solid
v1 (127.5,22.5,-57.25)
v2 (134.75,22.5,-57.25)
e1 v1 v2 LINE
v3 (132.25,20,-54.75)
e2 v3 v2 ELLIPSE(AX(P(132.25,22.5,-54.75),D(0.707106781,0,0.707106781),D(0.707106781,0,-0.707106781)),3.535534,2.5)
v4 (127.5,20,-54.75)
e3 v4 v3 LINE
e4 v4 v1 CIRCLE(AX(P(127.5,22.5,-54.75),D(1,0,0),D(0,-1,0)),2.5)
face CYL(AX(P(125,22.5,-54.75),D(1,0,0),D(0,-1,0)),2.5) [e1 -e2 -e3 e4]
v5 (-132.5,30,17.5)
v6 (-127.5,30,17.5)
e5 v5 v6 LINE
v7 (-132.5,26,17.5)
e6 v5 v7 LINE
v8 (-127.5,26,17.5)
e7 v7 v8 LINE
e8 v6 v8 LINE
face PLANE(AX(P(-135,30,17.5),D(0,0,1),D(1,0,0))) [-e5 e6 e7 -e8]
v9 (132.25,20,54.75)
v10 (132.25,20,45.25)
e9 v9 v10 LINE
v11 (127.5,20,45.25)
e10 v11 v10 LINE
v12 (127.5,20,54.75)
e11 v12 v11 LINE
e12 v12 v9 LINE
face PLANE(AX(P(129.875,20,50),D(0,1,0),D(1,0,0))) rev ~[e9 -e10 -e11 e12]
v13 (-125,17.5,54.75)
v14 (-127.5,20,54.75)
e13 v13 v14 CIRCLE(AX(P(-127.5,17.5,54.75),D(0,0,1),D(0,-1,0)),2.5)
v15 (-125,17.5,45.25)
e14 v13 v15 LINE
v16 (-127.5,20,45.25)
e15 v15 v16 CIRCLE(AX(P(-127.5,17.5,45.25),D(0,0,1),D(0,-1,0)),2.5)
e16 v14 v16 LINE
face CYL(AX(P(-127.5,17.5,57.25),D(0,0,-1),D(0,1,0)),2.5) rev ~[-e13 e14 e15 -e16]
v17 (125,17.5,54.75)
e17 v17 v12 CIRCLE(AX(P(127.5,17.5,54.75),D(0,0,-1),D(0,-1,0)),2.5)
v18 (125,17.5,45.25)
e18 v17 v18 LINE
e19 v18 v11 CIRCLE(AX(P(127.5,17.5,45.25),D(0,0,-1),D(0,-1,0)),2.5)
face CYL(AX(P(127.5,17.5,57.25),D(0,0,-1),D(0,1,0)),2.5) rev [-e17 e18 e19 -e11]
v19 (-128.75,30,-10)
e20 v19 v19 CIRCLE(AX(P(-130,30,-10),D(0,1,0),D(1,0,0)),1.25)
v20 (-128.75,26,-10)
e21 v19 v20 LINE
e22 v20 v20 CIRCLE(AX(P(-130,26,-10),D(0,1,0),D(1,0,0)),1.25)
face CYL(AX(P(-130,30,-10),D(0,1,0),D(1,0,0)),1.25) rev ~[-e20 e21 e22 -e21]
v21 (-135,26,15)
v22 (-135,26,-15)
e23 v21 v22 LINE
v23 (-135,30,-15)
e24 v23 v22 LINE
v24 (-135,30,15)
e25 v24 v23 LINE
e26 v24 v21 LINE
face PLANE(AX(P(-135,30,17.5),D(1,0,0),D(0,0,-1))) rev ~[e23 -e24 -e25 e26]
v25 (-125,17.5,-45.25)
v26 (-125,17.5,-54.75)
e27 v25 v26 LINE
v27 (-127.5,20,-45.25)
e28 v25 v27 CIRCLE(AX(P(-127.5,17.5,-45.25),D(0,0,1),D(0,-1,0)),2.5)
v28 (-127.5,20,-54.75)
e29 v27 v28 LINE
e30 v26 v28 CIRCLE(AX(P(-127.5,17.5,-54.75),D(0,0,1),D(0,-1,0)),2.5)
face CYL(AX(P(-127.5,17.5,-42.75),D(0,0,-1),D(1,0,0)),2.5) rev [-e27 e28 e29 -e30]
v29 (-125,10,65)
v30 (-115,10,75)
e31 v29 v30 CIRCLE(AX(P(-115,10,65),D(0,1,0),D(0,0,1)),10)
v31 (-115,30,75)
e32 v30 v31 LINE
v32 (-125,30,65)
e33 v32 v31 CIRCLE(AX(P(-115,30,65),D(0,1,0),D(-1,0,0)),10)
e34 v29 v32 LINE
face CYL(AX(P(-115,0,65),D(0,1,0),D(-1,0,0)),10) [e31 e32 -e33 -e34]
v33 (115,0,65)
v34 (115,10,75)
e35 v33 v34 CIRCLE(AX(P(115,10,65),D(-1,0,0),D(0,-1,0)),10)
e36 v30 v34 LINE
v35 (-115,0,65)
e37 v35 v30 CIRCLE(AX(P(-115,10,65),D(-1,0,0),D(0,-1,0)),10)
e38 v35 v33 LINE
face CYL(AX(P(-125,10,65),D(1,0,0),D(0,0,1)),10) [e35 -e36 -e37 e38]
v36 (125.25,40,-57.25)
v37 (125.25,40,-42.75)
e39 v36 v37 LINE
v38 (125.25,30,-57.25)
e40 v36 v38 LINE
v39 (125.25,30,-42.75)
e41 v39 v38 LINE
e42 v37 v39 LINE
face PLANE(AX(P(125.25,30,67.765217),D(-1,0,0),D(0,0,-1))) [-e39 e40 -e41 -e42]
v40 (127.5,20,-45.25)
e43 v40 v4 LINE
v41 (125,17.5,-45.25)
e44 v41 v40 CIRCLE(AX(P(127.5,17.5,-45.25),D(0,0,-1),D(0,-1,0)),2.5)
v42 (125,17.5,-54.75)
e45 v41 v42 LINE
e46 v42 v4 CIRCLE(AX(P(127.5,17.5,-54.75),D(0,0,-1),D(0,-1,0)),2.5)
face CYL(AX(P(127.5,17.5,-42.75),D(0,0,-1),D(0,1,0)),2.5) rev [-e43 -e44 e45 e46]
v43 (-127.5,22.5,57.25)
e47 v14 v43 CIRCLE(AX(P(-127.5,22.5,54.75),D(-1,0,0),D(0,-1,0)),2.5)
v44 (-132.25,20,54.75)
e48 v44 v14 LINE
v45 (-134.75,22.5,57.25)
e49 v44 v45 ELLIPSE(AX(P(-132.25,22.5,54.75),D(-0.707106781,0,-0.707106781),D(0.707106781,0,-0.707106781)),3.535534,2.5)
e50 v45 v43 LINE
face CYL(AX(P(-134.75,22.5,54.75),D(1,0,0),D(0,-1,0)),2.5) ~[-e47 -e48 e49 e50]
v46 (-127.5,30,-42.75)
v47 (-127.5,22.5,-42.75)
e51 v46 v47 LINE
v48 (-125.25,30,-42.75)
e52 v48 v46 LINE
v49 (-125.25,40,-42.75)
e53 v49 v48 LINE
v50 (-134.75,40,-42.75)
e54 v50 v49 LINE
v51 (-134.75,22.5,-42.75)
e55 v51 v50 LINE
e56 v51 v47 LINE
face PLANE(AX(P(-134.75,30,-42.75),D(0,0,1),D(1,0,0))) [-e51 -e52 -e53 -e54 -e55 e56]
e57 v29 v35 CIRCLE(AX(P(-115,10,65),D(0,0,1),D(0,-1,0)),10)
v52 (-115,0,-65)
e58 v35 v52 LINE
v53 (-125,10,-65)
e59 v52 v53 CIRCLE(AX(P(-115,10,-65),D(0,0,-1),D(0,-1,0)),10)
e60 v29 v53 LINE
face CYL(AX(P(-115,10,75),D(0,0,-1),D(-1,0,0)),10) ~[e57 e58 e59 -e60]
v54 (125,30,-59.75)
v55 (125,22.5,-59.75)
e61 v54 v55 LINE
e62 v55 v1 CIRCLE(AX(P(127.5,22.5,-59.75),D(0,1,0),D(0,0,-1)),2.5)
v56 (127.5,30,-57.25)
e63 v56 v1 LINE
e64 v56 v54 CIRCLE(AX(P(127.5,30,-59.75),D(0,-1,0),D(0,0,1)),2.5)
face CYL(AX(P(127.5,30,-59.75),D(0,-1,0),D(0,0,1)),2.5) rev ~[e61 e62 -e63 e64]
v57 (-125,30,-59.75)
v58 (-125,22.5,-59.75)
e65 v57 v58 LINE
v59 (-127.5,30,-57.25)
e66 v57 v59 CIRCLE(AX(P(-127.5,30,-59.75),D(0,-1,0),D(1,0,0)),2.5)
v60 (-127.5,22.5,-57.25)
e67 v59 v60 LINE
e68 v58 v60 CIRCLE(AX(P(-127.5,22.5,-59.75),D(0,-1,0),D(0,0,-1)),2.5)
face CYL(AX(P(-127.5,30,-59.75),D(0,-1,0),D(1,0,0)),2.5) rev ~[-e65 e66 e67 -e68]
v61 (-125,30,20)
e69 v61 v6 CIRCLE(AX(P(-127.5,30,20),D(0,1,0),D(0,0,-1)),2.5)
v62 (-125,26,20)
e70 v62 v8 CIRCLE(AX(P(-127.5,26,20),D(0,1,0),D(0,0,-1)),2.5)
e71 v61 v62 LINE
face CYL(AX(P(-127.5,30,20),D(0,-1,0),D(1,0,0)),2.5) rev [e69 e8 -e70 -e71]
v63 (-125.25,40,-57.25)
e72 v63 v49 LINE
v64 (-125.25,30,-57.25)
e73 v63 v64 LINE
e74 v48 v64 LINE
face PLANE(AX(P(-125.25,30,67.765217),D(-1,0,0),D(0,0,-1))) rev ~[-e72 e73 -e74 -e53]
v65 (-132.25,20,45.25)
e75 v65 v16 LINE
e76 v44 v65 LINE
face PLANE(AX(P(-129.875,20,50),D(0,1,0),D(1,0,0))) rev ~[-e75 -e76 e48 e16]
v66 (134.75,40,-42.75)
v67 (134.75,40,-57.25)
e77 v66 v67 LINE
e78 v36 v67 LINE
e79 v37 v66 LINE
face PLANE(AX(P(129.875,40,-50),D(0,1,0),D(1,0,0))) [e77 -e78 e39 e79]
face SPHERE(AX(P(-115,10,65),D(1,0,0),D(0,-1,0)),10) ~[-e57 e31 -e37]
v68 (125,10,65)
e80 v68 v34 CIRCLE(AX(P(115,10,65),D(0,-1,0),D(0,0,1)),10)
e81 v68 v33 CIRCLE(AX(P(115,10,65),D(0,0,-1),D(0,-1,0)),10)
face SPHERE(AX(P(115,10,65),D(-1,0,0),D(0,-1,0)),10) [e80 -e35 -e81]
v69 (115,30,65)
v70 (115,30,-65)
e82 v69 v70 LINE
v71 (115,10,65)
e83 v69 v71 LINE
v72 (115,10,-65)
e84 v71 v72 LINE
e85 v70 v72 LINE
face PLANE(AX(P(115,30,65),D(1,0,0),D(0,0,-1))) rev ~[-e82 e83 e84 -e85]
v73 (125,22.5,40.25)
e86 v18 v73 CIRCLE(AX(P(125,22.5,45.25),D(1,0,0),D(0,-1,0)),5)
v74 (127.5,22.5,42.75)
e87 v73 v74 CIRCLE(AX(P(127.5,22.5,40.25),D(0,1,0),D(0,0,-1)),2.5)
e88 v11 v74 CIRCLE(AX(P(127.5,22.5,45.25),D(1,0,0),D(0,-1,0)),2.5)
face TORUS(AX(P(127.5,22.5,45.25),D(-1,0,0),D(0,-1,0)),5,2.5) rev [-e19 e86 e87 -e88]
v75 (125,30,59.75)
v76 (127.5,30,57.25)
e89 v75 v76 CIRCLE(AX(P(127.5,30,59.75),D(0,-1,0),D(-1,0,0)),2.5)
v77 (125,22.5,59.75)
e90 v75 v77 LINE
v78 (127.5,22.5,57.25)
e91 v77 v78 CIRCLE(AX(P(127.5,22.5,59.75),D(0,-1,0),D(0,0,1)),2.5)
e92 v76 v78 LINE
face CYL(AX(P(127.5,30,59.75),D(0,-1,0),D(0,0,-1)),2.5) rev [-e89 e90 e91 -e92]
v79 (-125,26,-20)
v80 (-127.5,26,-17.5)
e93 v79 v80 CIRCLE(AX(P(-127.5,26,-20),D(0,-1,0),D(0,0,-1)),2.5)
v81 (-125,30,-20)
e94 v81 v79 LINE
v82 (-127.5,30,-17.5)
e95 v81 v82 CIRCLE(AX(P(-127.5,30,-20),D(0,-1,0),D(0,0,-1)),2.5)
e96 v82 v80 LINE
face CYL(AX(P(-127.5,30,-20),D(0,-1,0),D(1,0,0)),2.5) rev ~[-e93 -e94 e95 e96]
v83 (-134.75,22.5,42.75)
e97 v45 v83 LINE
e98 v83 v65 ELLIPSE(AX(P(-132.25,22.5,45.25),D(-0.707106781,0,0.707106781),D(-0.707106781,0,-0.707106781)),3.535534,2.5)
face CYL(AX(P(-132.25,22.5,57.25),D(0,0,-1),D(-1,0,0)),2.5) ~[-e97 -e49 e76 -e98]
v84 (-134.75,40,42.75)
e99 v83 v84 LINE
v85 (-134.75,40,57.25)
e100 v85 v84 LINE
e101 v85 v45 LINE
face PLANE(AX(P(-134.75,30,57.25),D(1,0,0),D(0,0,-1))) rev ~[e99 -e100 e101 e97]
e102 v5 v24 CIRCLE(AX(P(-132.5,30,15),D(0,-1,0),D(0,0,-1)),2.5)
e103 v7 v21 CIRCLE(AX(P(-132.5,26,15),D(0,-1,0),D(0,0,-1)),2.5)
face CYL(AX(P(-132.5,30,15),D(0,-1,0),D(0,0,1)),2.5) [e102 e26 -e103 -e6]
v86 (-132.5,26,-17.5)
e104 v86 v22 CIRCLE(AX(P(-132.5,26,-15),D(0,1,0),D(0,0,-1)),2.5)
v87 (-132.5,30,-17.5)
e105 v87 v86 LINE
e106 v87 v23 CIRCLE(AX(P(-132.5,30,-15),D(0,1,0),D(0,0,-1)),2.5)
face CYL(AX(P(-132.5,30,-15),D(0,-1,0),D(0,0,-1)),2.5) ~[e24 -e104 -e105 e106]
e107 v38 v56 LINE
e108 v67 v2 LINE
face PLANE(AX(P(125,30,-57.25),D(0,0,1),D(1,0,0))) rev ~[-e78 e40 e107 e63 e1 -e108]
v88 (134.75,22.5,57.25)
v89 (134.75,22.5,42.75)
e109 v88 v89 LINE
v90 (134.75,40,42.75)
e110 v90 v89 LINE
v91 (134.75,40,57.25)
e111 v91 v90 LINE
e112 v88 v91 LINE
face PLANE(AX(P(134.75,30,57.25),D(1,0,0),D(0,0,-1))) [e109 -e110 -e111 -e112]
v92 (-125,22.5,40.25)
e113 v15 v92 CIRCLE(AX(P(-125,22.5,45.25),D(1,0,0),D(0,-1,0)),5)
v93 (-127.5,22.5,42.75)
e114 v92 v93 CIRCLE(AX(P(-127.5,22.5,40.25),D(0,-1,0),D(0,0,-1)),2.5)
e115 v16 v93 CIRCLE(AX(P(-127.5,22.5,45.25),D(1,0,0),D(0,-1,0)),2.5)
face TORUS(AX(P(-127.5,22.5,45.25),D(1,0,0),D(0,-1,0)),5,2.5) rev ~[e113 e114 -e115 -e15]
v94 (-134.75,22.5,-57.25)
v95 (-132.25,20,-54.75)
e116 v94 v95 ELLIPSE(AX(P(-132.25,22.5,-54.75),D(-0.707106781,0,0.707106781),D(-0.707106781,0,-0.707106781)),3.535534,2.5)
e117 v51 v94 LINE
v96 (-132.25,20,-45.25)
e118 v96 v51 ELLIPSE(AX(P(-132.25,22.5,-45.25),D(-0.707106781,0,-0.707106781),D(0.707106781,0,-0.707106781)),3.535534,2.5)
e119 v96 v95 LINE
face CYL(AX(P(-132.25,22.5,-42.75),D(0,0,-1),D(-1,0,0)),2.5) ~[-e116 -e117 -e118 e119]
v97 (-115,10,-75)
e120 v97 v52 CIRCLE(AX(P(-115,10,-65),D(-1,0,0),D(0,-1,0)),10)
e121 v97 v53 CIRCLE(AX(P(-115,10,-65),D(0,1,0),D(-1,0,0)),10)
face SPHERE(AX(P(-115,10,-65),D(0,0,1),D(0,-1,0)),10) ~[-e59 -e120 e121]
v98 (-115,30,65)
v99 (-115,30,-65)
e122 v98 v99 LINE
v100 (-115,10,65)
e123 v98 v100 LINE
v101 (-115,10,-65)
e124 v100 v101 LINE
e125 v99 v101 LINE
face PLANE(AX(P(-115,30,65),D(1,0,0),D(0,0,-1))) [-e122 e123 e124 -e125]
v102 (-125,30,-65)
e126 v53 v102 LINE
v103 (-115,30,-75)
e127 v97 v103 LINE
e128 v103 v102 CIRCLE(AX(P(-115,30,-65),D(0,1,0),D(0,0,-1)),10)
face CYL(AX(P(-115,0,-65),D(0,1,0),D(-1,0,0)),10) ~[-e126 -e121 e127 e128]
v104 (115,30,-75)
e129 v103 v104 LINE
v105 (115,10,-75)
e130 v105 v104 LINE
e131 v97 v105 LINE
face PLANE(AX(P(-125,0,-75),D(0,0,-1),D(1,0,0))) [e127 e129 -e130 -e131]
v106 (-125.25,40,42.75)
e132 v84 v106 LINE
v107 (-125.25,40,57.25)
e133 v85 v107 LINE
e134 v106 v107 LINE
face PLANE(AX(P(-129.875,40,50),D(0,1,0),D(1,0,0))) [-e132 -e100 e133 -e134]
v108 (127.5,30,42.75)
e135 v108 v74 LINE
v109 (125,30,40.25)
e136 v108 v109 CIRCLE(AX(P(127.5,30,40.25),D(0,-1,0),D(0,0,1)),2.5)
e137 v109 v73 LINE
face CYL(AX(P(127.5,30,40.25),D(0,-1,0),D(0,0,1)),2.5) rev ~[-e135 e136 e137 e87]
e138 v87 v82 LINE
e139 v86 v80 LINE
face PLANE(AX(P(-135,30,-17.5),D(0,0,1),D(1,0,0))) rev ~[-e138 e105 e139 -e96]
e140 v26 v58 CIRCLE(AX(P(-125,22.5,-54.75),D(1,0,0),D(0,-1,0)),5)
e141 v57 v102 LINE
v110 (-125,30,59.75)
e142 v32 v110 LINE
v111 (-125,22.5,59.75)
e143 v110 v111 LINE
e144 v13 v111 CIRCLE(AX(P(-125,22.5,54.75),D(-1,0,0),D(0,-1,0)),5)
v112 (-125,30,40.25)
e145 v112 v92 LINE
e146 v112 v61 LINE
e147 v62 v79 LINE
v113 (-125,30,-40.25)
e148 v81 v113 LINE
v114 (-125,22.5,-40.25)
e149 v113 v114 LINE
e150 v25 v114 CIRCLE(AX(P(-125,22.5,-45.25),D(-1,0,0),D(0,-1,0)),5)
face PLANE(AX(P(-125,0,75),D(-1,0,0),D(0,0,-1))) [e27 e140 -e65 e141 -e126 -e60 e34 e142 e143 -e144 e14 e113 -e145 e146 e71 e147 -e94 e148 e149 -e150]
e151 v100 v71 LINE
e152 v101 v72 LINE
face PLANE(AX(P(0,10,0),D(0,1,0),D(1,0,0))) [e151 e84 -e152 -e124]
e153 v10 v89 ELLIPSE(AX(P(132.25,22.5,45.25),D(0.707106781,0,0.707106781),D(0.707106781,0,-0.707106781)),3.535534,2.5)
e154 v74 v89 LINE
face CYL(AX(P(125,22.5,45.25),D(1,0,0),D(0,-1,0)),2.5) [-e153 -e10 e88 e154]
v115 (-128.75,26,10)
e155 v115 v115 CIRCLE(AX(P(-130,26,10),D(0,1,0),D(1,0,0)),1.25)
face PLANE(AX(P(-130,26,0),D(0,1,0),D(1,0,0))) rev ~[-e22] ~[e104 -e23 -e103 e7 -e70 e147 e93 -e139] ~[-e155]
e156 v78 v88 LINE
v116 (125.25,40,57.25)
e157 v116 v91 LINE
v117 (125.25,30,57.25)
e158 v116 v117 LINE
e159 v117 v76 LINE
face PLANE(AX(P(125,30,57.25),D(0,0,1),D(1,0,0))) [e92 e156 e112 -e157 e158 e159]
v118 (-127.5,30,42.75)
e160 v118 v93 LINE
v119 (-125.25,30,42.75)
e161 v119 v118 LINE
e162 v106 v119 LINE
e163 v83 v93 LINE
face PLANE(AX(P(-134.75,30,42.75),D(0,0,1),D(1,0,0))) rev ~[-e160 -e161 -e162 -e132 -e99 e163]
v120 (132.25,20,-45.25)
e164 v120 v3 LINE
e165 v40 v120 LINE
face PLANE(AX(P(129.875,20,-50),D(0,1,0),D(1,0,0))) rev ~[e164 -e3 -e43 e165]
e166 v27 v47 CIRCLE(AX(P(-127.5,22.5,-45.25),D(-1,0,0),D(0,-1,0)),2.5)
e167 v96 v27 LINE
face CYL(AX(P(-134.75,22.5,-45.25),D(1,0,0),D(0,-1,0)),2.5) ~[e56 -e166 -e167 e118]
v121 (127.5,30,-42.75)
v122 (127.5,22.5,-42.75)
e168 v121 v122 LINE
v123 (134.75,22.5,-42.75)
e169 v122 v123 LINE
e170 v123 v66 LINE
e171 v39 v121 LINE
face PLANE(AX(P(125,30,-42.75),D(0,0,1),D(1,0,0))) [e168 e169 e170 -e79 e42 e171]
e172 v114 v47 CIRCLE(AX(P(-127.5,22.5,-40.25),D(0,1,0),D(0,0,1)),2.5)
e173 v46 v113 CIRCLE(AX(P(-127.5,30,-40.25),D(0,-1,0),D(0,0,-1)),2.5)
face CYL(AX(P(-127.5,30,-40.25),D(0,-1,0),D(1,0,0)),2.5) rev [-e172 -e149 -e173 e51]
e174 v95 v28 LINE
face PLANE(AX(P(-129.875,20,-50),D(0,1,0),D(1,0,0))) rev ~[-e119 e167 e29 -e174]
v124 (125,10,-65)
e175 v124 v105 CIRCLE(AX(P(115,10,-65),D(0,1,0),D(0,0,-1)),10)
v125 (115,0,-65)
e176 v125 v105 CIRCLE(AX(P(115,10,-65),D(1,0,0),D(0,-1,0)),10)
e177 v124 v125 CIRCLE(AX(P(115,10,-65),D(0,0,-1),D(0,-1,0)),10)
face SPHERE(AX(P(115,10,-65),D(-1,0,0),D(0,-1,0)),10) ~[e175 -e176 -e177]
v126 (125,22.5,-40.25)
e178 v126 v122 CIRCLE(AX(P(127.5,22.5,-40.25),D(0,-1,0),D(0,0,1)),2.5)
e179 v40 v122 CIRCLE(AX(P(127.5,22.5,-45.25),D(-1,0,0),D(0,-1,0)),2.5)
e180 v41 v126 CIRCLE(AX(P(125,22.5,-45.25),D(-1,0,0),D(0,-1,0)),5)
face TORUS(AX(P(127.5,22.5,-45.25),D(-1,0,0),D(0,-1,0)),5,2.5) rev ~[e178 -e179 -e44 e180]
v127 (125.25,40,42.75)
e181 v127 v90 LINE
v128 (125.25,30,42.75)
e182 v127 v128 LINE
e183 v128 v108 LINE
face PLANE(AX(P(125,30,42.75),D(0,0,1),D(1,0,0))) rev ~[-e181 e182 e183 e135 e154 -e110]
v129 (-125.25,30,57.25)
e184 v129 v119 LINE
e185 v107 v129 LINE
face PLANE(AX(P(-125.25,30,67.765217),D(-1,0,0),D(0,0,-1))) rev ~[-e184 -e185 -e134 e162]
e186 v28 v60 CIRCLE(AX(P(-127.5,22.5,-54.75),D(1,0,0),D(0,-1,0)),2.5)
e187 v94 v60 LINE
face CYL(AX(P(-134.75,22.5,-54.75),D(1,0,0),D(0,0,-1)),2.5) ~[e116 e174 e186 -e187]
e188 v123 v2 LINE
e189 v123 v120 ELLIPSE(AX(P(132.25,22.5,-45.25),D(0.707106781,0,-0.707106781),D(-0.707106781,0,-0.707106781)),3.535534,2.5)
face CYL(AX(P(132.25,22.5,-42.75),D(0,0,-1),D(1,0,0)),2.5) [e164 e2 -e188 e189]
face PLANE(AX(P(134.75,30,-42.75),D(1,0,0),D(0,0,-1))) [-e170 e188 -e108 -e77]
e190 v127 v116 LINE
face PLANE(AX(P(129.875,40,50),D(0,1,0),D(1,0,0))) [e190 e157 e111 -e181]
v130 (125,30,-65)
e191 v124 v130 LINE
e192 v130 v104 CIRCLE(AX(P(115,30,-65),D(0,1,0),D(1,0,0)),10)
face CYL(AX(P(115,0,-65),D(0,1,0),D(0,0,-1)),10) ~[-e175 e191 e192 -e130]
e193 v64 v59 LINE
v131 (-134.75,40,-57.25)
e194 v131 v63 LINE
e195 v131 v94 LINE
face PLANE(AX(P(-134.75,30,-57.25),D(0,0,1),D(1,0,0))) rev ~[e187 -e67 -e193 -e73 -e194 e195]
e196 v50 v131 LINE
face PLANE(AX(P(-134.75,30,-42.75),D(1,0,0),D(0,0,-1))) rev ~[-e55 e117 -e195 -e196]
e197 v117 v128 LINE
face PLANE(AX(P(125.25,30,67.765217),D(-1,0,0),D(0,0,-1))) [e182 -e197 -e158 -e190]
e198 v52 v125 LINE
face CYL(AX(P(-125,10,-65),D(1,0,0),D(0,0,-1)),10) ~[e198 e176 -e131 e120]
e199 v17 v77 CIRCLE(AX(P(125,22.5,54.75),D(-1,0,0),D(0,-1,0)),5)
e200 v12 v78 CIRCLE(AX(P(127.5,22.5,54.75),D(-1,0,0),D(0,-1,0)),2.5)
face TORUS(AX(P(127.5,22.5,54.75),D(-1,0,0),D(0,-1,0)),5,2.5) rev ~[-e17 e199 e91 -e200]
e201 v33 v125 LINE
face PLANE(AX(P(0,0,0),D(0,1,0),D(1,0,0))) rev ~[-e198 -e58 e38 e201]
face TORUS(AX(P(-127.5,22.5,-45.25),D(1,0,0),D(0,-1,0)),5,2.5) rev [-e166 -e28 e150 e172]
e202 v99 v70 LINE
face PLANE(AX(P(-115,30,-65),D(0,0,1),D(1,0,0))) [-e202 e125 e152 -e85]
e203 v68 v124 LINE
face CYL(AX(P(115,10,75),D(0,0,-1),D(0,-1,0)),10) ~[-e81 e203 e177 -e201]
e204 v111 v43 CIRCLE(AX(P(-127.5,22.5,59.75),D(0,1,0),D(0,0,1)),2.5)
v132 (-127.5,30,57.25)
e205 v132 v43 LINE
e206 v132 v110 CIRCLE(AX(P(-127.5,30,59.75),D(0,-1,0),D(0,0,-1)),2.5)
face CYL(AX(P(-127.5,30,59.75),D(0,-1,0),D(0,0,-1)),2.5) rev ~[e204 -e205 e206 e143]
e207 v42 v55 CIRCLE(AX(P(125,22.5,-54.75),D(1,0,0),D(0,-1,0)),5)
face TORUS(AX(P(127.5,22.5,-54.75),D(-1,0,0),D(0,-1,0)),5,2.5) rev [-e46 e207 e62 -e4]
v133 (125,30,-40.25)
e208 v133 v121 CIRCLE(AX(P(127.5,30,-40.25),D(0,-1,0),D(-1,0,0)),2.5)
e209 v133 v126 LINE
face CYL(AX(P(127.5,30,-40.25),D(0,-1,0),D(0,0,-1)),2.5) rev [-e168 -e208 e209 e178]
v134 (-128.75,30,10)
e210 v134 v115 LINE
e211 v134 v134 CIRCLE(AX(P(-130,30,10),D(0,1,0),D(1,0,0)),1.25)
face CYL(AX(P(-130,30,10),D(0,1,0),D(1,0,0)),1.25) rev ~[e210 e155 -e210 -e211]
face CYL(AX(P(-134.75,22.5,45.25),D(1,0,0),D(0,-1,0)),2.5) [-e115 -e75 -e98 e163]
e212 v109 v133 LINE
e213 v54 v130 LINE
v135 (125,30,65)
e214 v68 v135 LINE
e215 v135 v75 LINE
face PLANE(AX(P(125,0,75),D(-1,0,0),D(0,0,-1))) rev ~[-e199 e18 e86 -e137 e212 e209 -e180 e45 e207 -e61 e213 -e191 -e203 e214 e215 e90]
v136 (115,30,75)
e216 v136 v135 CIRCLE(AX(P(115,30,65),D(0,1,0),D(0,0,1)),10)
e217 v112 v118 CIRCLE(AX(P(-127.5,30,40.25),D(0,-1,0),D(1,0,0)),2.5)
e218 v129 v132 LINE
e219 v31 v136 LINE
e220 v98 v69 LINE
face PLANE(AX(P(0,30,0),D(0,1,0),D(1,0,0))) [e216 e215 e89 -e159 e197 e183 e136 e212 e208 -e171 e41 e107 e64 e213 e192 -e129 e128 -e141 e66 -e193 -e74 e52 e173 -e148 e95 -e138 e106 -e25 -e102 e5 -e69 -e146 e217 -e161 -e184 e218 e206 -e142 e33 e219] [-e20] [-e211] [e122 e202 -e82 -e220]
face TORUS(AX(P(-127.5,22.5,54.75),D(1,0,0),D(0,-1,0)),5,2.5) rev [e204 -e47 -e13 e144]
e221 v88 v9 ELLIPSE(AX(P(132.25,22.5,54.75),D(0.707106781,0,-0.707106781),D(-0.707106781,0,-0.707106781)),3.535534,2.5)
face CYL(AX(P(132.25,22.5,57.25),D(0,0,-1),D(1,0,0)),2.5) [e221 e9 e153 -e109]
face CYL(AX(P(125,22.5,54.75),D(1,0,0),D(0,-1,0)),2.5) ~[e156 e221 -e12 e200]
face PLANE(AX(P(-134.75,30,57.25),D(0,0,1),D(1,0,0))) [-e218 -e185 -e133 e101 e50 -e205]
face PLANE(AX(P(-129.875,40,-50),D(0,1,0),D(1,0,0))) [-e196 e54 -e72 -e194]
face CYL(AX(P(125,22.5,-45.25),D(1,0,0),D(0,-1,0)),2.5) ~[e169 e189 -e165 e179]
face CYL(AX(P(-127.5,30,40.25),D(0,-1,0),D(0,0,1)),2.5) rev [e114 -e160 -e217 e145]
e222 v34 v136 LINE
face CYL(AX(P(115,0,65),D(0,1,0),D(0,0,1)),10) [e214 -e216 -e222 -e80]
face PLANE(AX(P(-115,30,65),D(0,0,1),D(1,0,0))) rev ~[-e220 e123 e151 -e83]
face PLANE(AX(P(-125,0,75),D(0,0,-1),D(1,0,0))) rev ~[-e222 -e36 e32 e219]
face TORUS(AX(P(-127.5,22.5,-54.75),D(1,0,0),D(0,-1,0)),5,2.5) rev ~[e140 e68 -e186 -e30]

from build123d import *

# Parameters (mm, degrees)
SKETCH1_W                = 250
SKETCH1_H                = 150
BOSS_EXTRUDE1_DEPTH      = 30
SKETCH2_W                = 230
SKETCH2_H                = 130
CUT_EXTRUDE1_DEPTH       = 20
FILLET1_R                = 10
SKETCH3_W                = 9.75
SKETCH3_H                = 14.5
BOSS_EXTRUDE2_DEPTH      = 10
BOSS_EXTRUDE2_DEPTH_BACK = 10
FILLET3_R                = 2.5
SKETCH4_W                = 250.5
SKETCH4_H                = 135.53043316
CUT_EXTRUDE3_DEPTH       = 36
SKETCH5_W                = 10
SKETCH5_H                = 35
SKETCH5_R                = 1.25
BOSS_EXTRUDE5_DEPTH      = 4
FILLET4_R                = 2.5


with BuildPart() as part:
    # Sketch1 → Boss-Extrude1 (new body)
    with BuildSketch(Plane(origin=(0, 0, 0), x_dir=(1, 0, 0), z_dir=(0, 1, 0))):
        Rectangle(SKETCH1_W, SKETCH1_H)
    extrude(amount=BOSS_EXTRUDE1_DEPTH)

    # Sketch2 → Cut-Extrude1 (cut)
    with BuildSketch(Plane(origin=(0, 30, 0), x_dir=(1, 0, 0), z_dir=(0, 1, 0))):
        Rectangle(SKETCH2_W, SKETCH2_H)
    extrude(amount=-CUT_EXTRUDE1_DEPTH, mode=Mode.SUBTRACT)

    # Fillet1
    fillet1_edges = [part.edges().sort_by_distance(p)[0] for p in [
        (0, 0, 75),
        (-125, 0, 0),
        (0, 0, -75),
        (125, 0, 0),
        (125, 15, 75),
        (-125, 15, 75),
        (-125, 15, -75),
        (125, 15, -75),
    ]]
    fillet(fillet1_edges, radius=FILLET1_R)

    # Sketch3 → Boss-Extrude2 (add, two sides)
    with BuildSketch(Plane(origin=(0, 30, 0), x_dir=(1, 0, 0), z_dir=(0, 1, 0))) as boss_extrude2_sk:
        with Locations((-129.875, 50)):
            Rectangle(SKETCH3_W, SKETCH3_H)
        with Locations((-129.875, -50)):
            Rectangle(SKETCH3_W, SKETCH3_H)
        with Locations((129.875, -50)):
            Rectangle(SKETCH3_W, SKETCH3_H)
        with Locations((129.875, 50)):
            Rectangle(SKETCH3_W, SKETCH3_H)
    extrude(amount=BOSS_EXTRUDE2_DEPTH)
    extrude(boss_extrude2_sk.sketch, amount=-BOSS_EXTRUDE2_DEPTH_BACK)

    # Fillet3
    fillet3_edges = [part.edges().sort_by_distance(p)[0] for p in [
        (125, 20, -50),
        (125, 25, -42.75),
        (125, 25, -57.25),
        (129.875, 20, -57.25),
        (134.75, 20, -50),
        (129.875, 20, -42.75),
        (-125, 20, -50),
        (-125, 25, -57.25),
        (-125, 25, -42.75),
        (-129.875, 20, -42.75),
        (-134.75, 20, -50),
        (-129.875, 20, -57.25),
        (-125, 20, 50),
        (-125, 25, 42.75),
        (-125, 25, 57.25),
        (-129.875, 20, 57.25),
        (-134.75, 20, 50),
        (-129.875, 20, 42.75),
        (125, 20, 50),
        (125, 25, 57.25),
        (125, 25, 42.75),
        (129.875, 20, 42.75),
        (134.75, 20, 50),
        (129.875, 20, 57.25),
    ]]
    fillet(fillet3_edges, radius=FILLET3_R)

    # Sketch4 → Cut-Extrude3 (cut)
    with BuildSketch(Plane(origin=(0, 30, 0), x_dir=(1, 0, 0), z_dir=(0, 1, 0))):
        Rectangle(SKETCH4_W, SKETCH4_H)
    extrude(amount=CUT_EXTRUDE3_DEPTH, mode=Mode.SUBTRACT)

    # Sketch5 → Boss-Extrude5 (add)
    with BuildSketch(Plane(origin=(0, 30, 0), x_dir=(1, 0, 0), z_dir=(0, 1, 0))):
        with Locations((-130, 0)):
            Rectangle(SKETCH5_W, SKETCH5_H)
        with Locations((-130, 10)):
            Circle(SKETCH5_R, mode=Mode.SUBTRACT)
        with Locations((-130, -10)):
            Circle(SKETCH5_R, mode=Mode.SUBTRACT)
    extrude(amount=-BOSS_EXTRUDE5_DEPTH)

    # Fillet4
    fillet4_edges = [part.edges().sort_by_distance(p)[0] for p in [
        (-125, 28, -17.5),
        (-125, 28, 17.5),
        (-135, 28, 17.5),
        (-135, 28, -17.5),
    ]]
    fillet(fillet4_edges, radius=FILLET4_R)


solid = part.part
